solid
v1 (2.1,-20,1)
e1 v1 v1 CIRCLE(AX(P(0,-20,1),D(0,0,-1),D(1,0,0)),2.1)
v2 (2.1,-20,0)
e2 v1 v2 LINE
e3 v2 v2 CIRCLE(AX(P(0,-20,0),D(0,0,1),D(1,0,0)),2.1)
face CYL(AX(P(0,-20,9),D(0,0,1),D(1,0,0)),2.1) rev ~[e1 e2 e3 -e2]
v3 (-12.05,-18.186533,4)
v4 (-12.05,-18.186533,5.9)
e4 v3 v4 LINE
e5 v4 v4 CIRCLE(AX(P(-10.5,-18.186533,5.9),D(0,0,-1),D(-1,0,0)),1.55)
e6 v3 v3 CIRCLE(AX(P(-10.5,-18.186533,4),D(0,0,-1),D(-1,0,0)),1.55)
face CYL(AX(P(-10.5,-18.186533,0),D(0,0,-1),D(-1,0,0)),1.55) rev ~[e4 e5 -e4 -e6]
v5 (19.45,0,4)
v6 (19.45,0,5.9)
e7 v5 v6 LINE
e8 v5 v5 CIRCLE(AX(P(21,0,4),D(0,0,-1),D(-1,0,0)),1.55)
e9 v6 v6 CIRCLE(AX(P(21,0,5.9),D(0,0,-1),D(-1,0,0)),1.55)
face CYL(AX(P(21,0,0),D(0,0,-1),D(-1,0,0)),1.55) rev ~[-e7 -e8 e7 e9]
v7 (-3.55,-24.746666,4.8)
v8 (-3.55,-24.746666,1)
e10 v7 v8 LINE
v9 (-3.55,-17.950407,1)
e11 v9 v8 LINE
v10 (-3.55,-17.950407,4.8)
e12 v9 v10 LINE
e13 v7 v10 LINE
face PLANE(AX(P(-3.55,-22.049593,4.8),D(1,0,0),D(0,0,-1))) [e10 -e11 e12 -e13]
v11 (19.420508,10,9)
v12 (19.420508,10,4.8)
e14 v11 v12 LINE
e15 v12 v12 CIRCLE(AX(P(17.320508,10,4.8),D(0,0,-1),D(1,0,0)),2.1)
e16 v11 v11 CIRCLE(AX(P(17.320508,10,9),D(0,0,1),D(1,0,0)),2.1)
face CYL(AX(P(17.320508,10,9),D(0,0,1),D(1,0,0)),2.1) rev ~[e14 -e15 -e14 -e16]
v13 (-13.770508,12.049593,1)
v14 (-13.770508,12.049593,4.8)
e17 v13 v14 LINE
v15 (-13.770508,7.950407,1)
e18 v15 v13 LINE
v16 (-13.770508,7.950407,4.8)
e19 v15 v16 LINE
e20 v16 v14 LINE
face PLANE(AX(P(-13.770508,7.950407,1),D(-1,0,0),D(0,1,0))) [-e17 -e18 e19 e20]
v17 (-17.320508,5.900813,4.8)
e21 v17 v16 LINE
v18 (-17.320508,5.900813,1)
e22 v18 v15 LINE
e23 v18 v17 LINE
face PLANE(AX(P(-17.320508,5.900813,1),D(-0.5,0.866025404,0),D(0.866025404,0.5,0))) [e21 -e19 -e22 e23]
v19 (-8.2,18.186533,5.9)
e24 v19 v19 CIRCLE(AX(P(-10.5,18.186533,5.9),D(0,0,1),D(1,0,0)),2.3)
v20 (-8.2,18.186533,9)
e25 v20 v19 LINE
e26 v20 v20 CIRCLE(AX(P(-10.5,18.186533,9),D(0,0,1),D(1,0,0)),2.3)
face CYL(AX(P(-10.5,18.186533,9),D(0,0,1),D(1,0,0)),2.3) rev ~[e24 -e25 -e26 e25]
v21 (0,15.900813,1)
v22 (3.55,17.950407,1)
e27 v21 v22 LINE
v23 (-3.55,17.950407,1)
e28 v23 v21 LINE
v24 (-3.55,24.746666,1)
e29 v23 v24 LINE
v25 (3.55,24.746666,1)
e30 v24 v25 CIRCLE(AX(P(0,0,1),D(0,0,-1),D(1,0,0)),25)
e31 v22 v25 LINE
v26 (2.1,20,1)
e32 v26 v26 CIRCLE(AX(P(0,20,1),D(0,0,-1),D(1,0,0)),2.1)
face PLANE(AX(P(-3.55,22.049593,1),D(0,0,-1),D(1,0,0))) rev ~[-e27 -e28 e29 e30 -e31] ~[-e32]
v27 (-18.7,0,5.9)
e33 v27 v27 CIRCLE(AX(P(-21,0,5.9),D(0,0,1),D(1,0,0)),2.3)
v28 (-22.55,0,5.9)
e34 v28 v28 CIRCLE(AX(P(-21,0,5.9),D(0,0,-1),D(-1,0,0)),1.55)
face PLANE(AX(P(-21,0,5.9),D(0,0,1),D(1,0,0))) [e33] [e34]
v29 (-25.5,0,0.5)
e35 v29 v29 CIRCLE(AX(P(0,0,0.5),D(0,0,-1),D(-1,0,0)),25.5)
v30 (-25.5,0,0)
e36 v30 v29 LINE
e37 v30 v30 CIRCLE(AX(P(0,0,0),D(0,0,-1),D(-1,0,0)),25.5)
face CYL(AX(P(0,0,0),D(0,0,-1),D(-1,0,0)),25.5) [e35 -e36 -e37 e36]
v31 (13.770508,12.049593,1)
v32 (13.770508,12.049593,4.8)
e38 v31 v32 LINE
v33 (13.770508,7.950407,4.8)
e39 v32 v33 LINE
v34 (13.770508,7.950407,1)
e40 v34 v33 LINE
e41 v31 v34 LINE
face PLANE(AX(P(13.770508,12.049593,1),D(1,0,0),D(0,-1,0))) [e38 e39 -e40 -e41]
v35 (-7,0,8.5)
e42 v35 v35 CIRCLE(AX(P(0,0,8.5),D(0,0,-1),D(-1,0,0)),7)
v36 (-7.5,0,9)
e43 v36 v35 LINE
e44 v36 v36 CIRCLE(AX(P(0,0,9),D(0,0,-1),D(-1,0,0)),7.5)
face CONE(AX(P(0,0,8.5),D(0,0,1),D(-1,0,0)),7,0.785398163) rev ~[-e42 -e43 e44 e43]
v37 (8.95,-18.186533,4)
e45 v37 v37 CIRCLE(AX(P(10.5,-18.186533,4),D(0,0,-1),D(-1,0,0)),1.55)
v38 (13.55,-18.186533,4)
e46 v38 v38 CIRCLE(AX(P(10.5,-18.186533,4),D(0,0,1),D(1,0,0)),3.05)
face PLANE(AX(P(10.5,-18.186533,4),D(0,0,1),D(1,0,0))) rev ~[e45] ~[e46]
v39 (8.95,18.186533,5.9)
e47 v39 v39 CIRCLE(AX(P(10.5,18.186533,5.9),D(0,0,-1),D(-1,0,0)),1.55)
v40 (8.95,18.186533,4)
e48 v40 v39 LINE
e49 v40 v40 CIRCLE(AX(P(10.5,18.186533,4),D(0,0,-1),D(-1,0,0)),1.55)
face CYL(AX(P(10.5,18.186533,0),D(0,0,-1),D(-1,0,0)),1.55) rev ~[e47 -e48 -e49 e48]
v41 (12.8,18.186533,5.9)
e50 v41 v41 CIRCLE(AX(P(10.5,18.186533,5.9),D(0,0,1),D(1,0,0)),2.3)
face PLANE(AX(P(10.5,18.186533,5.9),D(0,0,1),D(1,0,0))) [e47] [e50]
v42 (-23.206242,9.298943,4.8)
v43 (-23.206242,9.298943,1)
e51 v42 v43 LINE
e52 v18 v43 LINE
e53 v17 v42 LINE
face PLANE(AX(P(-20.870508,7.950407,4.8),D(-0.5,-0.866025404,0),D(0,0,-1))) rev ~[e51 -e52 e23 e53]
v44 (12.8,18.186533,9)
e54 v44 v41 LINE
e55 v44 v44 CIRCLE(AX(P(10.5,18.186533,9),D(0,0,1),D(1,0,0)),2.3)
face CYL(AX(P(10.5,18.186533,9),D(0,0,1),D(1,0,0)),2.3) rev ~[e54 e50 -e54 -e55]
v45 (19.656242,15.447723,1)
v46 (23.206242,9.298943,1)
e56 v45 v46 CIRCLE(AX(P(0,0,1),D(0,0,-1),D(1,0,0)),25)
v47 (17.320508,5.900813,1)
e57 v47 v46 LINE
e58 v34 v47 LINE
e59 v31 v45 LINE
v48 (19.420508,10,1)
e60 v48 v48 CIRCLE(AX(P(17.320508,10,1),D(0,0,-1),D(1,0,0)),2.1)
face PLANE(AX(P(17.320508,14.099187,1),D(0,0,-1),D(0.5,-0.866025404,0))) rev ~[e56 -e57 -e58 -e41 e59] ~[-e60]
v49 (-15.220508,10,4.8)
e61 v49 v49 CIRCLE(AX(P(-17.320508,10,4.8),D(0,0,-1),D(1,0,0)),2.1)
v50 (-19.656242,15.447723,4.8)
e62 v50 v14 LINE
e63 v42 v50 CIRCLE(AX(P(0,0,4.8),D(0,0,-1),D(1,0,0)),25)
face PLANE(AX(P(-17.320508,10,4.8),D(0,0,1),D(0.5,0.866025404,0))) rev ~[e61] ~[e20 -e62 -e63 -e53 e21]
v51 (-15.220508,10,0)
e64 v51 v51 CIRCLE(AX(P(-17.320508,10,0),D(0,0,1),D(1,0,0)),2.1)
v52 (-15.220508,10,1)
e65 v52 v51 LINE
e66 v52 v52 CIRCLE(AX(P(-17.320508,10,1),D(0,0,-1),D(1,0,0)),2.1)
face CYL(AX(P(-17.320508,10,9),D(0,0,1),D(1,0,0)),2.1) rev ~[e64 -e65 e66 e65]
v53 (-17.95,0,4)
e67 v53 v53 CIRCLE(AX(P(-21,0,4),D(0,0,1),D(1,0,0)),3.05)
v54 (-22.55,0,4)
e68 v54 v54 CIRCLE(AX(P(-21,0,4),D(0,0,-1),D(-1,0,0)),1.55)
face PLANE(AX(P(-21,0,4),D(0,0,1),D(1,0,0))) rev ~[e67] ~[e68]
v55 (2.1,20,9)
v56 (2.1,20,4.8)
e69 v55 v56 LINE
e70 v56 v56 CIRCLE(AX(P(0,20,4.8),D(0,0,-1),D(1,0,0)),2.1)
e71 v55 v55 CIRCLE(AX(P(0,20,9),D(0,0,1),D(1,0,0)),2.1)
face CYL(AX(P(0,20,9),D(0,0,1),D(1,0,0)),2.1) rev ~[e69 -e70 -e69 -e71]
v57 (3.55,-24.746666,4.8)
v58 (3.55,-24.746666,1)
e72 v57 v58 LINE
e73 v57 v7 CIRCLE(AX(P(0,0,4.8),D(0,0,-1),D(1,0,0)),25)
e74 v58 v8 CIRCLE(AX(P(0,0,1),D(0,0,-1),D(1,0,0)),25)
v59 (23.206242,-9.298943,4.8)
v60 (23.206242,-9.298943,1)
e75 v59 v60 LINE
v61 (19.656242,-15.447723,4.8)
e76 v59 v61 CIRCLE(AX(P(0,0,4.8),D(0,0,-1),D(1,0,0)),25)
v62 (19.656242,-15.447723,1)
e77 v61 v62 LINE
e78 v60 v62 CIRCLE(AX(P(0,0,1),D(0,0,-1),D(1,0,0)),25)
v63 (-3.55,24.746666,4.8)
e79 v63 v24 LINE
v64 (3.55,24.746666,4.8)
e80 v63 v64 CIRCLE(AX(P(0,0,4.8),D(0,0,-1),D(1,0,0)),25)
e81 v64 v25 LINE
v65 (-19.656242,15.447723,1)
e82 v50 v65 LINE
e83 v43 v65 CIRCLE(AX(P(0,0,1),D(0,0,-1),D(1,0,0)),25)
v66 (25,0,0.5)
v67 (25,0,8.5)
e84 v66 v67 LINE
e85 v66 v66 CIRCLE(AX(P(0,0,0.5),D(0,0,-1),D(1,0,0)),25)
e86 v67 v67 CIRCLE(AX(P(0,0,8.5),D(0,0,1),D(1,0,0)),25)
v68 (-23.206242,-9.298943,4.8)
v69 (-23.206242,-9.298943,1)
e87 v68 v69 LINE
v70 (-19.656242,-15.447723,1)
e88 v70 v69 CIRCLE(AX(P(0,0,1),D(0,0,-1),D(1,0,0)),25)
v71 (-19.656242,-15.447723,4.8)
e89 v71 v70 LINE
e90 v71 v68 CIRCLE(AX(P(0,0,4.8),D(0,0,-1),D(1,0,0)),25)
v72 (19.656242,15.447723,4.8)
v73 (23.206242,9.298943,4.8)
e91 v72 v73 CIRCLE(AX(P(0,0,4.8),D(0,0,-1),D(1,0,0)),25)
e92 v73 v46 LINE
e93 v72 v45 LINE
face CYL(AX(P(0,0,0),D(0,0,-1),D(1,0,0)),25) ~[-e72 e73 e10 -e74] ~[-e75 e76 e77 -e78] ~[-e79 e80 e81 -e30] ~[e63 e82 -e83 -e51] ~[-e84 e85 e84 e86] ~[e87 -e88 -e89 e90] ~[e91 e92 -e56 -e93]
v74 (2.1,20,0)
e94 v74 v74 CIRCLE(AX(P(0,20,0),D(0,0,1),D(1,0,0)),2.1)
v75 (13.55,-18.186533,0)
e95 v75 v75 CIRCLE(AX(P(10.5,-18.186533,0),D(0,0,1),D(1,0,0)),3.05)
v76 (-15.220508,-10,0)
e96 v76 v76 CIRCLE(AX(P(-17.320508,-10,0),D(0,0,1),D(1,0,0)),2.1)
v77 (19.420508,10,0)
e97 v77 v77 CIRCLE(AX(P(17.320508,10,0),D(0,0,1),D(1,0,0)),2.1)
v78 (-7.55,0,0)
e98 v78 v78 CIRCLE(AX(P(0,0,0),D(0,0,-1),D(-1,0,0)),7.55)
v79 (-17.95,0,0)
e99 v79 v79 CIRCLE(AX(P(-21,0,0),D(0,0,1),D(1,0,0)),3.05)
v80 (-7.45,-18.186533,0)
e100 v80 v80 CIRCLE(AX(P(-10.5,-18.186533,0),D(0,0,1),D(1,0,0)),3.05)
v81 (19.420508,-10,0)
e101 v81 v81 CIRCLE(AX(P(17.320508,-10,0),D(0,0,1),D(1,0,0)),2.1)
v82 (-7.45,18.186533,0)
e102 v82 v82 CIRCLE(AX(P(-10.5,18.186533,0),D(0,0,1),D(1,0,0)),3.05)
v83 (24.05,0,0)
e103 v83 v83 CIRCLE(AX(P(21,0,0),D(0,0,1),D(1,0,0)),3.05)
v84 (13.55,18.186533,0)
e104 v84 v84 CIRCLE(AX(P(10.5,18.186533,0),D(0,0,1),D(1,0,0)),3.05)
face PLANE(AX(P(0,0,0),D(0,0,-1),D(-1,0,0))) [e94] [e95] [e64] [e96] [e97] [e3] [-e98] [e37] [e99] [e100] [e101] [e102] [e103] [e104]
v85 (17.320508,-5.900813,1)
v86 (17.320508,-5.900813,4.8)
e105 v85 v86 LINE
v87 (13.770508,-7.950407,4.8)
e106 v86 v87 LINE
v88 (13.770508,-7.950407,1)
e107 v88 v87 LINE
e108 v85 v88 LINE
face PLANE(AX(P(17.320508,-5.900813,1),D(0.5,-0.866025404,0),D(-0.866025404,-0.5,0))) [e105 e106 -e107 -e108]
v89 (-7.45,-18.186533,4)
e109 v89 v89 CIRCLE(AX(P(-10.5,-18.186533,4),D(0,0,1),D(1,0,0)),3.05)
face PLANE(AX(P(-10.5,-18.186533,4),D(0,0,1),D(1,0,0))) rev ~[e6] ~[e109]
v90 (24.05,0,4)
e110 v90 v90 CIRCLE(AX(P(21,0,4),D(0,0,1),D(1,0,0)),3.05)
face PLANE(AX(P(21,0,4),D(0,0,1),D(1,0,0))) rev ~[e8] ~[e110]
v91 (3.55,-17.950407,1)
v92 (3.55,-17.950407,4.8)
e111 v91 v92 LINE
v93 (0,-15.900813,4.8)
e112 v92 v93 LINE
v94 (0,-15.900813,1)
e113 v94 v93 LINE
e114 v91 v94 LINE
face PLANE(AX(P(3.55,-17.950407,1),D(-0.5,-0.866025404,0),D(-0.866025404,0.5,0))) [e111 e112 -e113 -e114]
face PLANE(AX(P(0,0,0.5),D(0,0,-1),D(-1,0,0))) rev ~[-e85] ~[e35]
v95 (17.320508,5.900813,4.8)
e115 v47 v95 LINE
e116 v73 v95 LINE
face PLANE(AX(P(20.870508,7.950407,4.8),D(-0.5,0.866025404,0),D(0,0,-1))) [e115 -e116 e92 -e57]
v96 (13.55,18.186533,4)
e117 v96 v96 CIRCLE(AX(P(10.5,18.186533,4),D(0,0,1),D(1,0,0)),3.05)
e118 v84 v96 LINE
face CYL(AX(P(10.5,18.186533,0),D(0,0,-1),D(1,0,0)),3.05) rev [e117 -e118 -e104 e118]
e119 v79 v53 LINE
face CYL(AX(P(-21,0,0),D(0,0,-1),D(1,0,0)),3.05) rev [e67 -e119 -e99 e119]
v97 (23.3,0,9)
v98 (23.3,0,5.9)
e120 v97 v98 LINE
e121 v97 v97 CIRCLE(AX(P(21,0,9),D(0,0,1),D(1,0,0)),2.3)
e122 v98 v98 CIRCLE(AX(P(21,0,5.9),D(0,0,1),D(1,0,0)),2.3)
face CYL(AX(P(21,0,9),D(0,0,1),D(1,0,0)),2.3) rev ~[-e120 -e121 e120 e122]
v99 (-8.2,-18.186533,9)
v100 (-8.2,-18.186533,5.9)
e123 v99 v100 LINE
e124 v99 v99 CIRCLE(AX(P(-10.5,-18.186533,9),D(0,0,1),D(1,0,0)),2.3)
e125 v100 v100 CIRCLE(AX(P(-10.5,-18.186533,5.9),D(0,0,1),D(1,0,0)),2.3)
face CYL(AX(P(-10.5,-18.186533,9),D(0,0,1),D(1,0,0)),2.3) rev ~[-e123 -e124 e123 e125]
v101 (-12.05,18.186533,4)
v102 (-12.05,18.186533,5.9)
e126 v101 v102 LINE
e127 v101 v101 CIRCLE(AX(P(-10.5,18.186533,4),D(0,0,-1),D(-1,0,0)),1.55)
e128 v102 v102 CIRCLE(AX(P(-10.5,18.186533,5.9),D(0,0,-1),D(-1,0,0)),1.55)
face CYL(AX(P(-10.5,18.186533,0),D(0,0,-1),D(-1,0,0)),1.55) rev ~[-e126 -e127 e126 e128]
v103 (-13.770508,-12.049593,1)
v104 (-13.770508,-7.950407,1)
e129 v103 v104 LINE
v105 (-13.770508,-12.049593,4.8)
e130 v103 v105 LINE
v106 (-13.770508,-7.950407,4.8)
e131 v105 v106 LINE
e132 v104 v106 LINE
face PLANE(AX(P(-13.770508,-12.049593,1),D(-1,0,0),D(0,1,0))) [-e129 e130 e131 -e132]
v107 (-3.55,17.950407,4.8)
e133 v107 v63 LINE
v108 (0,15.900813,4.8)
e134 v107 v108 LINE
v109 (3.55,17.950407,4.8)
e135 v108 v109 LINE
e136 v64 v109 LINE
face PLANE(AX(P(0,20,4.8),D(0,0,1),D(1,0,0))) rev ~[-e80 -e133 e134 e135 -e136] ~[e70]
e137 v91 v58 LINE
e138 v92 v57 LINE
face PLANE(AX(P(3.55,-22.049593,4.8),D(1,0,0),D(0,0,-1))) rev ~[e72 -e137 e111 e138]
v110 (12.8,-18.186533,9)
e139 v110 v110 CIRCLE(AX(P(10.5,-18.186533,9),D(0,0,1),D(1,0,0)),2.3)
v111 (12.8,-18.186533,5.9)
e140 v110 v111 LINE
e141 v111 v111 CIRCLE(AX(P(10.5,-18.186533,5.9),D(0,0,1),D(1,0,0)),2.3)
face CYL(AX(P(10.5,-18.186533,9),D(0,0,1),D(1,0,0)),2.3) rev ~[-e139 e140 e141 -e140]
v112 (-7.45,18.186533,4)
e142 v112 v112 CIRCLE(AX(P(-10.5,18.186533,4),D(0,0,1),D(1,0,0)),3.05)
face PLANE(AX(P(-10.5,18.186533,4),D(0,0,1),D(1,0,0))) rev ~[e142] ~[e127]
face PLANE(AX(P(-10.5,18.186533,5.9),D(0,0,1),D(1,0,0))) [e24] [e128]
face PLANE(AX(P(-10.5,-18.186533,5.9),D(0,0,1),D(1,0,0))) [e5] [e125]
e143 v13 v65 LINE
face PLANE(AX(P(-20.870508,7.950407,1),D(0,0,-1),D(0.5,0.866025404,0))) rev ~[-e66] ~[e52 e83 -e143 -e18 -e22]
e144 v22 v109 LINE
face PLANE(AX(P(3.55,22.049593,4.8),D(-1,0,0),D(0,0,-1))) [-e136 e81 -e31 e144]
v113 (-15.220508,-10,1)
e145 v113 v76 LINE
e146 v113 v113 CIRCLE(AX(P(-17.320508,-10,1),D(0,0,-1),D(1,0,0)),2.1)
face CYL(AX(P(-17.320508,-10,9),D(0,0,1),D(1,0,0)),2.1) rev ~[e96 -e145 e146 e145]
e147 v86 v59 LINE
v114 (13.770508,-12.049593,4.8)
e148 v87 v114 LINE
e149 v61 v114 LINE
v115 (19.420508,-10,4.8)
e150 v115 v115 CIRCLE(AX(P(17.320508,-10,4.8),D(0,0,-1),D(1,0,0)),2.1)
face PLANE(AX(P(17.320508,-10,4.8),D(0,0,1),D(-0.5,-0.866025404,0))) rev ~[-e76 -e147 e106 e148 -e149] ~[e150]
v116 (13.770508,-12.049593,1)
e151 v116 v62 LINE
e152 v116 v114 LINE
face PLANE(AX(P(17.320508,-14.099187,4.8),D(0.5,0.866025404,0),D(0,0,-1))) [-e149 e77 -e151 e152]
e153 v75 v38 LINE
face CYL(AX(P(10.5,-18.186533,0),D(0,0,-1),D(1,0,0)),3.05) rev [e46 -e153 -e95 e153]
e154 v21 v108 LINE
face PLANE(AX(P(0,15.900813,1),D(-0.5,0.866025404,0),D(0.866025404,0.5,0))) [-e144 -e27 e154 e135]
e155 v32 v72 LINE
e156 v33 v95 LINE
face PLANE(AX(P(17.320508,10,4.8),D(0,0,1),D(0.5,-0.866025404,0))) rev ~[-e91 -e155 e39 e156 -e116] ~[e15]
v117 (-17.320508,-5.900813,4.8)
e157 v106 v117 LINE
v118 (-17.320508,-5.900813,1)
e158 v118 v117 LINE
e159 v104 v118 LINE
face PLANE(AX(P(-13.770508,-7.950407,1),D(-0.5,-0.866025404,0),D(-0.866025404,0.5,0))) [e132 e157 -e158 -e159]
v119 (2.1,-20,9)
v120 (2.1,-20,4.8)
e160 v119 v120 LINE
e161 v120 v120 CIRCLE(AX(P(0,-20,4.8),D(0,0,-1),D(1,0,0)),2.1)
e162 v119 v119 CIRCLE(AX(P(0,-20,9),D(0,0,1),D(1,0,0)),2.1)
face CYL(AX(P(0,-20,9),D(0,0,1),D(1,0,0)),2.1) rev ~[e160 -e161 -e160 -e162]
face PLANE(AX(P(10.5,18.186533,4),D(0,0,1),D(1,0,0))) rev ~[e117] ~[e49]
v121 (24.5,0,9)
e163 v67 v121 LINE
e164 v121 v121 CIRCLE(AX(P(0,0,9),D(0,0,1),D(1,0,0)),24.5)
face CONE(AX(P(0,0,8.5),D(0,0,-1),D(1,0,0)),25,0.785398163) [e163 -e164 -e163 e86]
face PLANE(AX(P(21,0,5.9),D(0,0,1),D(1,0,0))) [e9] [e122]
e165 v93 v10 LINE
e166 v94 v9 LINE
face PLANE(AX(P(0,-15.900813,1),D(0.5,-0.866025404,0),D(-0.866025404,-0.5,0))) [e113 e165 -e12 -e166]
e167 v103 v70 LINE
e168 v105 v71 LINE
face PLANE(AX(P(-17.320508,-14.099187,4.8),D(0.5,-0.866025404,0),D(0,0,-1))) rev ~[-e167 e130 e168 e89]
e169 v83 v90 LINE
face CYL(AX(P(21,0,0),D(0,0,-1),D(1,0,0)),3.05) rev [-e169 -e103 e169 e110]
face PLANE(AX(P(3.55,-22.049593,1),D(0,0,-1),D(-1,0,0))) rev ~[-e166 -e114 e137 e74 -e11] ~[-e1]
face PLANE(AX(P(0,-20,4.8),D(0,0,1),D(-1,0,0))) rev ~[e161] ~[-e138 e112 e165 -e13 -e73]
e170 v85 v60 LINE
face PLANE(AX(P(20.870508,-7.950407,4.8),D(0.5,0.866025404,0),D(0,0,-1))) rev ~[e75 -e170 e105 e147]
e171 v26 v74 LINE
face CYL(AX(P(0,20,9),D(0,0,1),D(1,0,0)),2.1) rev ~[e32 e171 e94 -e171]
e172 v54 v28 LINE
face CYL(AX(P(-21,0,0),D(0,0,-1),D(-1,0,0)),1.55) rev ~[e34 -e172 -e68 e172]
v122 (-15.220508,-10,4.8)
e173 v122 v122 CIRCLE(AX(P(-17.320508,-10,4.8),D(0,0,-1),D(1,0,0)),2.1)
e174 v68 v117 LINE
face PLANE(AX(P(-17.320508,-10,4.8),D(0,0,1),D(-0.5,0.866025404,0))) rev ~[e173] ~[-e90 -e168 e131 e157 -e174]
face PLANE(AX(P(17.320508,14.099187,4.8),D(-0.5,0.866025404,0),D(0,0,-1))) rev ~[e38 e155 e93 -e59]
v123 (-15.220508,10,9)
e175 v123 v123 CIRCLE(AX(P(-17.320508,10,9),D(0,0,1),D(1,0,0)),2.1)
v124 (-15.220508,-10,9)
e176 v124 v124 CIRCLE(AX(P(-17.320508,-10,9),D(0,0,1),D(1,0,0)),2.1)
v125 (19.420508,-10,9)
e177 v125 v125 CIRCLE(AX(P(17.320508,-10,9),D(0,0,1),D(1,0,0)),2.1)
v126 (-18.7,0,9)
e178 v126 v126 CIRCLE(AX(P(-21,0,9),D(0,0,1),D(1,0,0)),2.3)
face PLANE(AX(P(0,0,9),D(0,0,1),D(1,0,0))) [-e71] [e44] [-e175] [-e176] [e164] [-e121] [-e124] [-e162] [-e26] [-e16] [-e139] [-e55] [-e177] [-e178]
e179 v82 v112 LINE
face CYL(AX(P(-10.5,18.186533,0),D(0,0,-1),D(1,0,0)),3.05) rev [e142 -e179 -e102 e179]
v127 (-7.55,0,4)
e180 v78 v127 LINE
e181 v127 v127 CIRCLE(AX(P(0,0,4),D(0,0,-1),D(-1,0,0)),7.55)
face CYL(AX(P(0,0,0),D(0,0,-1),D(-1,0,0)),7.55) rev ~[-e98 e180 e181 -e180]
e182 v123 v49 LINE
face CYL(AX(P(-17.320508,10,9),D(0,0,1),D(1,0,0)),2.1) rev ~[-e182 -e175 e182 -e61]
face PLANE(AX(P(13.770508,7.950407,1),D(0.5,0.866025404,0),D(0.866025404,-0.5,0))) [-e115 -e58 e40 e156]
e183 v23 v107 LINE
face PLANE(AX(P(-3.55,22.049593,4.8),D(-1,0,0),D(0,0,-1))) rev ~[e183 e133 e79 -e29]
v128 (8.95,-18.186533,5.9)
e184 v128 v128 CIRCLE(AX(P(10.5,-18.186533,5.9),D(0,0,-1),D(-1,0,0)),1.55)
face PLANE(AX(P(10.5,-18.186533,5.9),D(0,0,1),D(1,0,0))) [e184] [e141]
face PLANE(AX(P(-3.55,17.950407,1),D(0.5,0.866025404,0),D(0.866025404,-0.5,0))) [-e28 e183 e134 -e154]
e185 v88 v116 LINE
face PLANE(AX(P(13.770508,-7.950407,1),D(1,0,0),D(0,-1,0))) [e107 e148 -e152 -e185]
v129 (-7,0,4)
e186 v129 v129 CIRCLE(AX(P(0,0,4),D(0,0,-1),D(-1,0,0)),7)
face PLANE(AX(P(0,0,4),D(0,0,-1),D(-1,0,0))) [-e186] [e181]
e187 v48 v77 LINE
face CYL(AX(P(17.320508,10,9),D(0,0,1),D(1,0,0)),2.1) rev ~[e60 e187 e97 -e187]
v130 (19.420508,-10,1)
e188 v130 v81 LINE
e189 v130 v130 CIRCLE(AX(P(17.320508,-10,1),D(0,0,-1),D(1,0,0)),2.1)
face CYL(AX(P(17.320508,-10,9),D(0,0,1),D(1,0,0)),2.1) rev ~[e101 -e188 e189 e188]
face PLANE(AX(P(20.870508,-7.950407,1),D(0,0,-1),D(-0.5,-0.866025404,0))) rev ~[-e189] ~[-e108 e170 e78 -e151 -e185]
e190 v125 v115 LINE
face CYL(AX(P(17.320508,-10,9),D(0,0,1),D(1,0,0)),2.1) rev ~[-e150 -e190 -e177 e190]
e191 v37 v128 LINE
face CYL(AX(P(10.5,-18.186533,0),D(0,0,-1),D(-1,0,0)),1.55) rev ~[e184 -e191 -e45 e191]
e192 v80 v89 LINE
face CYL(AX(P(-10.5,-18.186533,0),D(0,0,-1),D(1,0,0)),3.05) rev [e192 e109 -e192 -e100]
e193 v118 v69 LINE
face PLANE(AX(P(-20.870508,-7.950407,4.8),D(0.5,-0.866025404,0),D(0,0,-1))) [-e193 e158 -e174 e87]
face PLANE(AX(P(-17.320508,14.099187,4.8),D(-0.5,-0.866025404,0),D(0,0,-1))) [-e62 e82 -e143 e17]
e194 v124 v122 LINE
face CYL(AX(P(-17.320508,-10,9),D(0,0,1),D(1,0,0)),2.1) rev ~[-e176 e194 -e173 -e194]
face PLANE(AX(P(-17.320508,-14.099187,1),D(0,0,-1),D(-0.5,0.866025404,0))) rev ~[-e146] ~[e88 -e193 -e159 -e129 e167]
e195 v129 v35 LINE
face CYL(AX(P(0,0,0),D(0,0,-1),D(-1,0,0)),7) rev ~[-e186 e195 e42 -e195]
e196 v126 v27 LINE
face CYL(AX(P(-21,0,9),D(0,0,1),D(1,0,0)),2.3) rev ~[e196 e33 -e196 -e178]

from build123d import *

# Parameters (mm, degrees)
OUTPUT_MASTER_SKETCH_R  = 25
BOSS_EXTRUDE1_DEPTH     = 9
SKETCH4_R               = 3.05
CUT_EXTRUDE1_DEPTH      = 4
SKETCH5_R               = 25.5
SKETCH5_R_2             = 25
BOSS_EXTRUDE2_DEPTH     = 0.5
SKETCH6_R               = 1.55
CUT_EXTRUDE2_DEPTH      = 38.16853508
SKETCH7_R               = 2.3
CUT_EXTRUDE3_DEPTH      = 3.1
CHAMFER1_SIZE           = 0.5
SKETCH8_R               = 7
CUT_EXTRUDE4_DEPTH      = 10
SKETCH9_R               = 7.55
CUT_EXTRUDE5_DEPTH      = 4
SKETCH10_R              = 2.1
M4_THRU_DEPTH           = 38.16853508
CHAMFER3_SIZE           = 0.5
M4_START                = -8
M4_HEXNUT_CUT_DEPTH     = 3.8
SKETCH12_W              = 7.1
SKETCH12_H              = 3.8
M4_HEXNUT_SLOT_DEPTH    = 55.701131961
M4_HEXNUT_PATTERN_COUNT = 6


with BuildPart() as part:
    # Output Master Sketch → Boss-Extrude1 (new body)
    with BuildSketch(Plane.XY):
        Circle(OUTPUT_MASTER_SKETCH_R)
    extrude(amount=BOSS_EXTRUDE1_DEPTH)

    # Sketch4 → Cut-Extrude1 (cut)
    with BuildSketch(Plane.XY):
        with Locations((21, 0)):
            Circle(SKETCH4_R)
        with Locations((10.5, -18.186533479)):
            Circle(SKETCH4_R)
        with Locations((-10.5, -18.186533479)):
            Circle(SKETCH4_R)
        with Locations((-21, 0)):
            Circle(SKETCH4_R)
        with Locations((-10.5, 18.186533479)):
            Circle(SKETCH4_R)
        with Locations((10.5, 18.186533479)):
            Circle(SKETCH4_R)
    extrude(amount=CUT_EXTRUDE1_DEPTH, mode=Mode.SUBTRACT)

    # Sketch5 → Boss-Extrude2 (add)
    with BuildSketch(Plane(origin=(0, 0, 0), x_dir=(-1, 0, 0), z_dir=(0, 0, -1))):
        Circle(SKETCH5_R)
        Circle(SKETCH5_R_2, mode=Mode.SUBTRACT)
    extrude(amount=-BOSS_EXTRUDE2_DEPTH)

    # Sketch6 → Cut-Extrude2 (cut, through all)
    with BuildSketch(Plane(origin=(0, 0, 0), x_dir=(-1, 0, 0), z_dir=(0, 0, -1))):
        with Locations((-21, 0)):
            Circle(SKETCH6_R)
        with Locations((-10.5, 18.186533479)):
            Circle(SKETCH6_R)
        with Locations((10.5, 18.186533479)):
            Circle(SKETCH6_R)
        with Locations((21, 0)):
            Circle(SKETCH6_R)
        with Locations((10.5, -18.186533479)):
            Circle(SKETCH6_R)
        with Locations((-10.5, -18.186533479)):
            Circle(SKETCH6_R)
    extrude(amount=-CUT_EXTRUDE2_DEPTH, mode=Mode.SUBTRACT)

    # Sketch7 → Cut-Extrude3 (cut)
    with BuildSketch(Plane.XY.offset(9)):
        with Locations((-21, 0)):
            Circle(SKETCH7_R)
        with Locations((-10.5, 18.186533479)):
            Circle(SKETCH7_R)
        with Locations((10.5, 18.186533479)):
            Circle(SKETCH7_R)
        with Locations((21, 0)):
            Circle(SKETCH7_R)
        with Locations((10.5, -18.186533479)):
            Circle(SKETCH7_R)
        with Locations((-10.5, -18.186533479)):
            Circle(SKETCH7_R)
    extrude(amount=-CUT_EXTRUDE3_DEPTH, mode=Mode.SUBTRACT)

    # Chamfer1
    chamfer1_edges = [part.edges().sort_by_distance(p)[0] for p in [
        (-25, 0, 9),
    ]]
    chamfer(chamfer1_edges, length=CHAMFER1_SIZE)

    # Sketch8 → Cut-Extrude4 (cut)
    with BuildSketch(Plane(origin=(0, 0, 0), x_dir=(-1, 0, 0), z_dir=(0, 0, -1))):
        Circle(SKETCH8_R)
    extrude(amount=-CUT_EXTRUDE4_DEPTH, mode=Mode.SUBTRACT)

    # Sketch9 → Cut-Extrude5 (cut)
    with BuildSketch(Plane(origin=(0, 0, 0), x_dir=(-1, 0, 0), z_dir=(0, 0, -1))):
        Circle(SKETCH9_R)
    extrude(amount=-CUT_EXTRUDE5_DEPTH, mode=Mode.SUBTRACT)

    # Sketch10 → M4 Thru (cut, through all)
    with BuildSketch(Plane.XY.offset(9)):
        with Locations((0, 20)):
            Circle(SKETCH10_R)
        with Locations((17.320508076, 10)):
            Circle(SKETCH10_R)
        with Locations((17.320508076, -10)):
            Circle(SKETCH10_R)
        with Locations((0, -20)):
            Circle(SKETCH10_R)
        with Locations((-17.320508076, -10)):
            Circle(SKETCH10_R)
        with Locations((-17.320508076, 10)):
            Circle(SKETCH10_R)
    extrude(amount=-M4_THRU_DEPTH, mode=Mode.SUBTRACT)

    # Chamfer3
    chamfer3_edges = [part.edges().sort_by_distance(p)[0] for p in [
        (7, 0, 9),
    ]]
    chamfer(chamfer3_edges, length=CHAMFER3_SIZE)

    # Sketch11 → M4 Hexnut Cut (cut)
    with BuildSketch(Plane.XY.offset(9).offset(M4_START)):
        Polygon((0, 24.099186911), (-3.55, 22.049593456), (-3.55, 17.950406544), (0, 15.900813089), (3.55, 17.950406544), (3.55, 22.049593456), align=None)
    m4_hexnut_cut = extrude(amount=M4_HEXNUT_CUT_DEPTH, mode=Mode.SUBTRACT)

    # Sketch12 → M4 Hexnut Slot (cut, through all)
    with BuildSketch(Plane(origin=(0, 22.049593456, 0), x_dir=(1, 0, 0), z_dir=(0, 1, 0))):
        with Locations((0, -2.9)):
            Rectangle(SKETCH12_W, SKETCH12_H)
    m4_hexnut_slot = extrude(amount=M4_HEXNUT_SLOT_DEPTH, mode=Mode.SUBTRACT)

    # M4 Hexnut Pattern: M4 Hexnut Cut, M4 Hexnut Slot ×6 about axis
    m4_hexnut_pattern_axis = Axis((0, 0, 0), (0, 0, 1))
    add([m4_hexnut_cut.rotate(m4_hexnut_pattern_axis, i * 360 / M4_HEXNUT_PATTERN_COUNT) for i in range(1, M4_HEXNUT_PATTERN_COUNT)], mode=Mode.SUBTRACT)
    add([m4_hexnut_slot.rotate(m4_hexnut_pattern_axis, i * 360 / M4_HEXNUT_PATTERN_COUNT) for i in range(1, M4_HEXNUT_PATTERN_COUNT)], mode=Mode.SUBTRACT)


solid = part.part
